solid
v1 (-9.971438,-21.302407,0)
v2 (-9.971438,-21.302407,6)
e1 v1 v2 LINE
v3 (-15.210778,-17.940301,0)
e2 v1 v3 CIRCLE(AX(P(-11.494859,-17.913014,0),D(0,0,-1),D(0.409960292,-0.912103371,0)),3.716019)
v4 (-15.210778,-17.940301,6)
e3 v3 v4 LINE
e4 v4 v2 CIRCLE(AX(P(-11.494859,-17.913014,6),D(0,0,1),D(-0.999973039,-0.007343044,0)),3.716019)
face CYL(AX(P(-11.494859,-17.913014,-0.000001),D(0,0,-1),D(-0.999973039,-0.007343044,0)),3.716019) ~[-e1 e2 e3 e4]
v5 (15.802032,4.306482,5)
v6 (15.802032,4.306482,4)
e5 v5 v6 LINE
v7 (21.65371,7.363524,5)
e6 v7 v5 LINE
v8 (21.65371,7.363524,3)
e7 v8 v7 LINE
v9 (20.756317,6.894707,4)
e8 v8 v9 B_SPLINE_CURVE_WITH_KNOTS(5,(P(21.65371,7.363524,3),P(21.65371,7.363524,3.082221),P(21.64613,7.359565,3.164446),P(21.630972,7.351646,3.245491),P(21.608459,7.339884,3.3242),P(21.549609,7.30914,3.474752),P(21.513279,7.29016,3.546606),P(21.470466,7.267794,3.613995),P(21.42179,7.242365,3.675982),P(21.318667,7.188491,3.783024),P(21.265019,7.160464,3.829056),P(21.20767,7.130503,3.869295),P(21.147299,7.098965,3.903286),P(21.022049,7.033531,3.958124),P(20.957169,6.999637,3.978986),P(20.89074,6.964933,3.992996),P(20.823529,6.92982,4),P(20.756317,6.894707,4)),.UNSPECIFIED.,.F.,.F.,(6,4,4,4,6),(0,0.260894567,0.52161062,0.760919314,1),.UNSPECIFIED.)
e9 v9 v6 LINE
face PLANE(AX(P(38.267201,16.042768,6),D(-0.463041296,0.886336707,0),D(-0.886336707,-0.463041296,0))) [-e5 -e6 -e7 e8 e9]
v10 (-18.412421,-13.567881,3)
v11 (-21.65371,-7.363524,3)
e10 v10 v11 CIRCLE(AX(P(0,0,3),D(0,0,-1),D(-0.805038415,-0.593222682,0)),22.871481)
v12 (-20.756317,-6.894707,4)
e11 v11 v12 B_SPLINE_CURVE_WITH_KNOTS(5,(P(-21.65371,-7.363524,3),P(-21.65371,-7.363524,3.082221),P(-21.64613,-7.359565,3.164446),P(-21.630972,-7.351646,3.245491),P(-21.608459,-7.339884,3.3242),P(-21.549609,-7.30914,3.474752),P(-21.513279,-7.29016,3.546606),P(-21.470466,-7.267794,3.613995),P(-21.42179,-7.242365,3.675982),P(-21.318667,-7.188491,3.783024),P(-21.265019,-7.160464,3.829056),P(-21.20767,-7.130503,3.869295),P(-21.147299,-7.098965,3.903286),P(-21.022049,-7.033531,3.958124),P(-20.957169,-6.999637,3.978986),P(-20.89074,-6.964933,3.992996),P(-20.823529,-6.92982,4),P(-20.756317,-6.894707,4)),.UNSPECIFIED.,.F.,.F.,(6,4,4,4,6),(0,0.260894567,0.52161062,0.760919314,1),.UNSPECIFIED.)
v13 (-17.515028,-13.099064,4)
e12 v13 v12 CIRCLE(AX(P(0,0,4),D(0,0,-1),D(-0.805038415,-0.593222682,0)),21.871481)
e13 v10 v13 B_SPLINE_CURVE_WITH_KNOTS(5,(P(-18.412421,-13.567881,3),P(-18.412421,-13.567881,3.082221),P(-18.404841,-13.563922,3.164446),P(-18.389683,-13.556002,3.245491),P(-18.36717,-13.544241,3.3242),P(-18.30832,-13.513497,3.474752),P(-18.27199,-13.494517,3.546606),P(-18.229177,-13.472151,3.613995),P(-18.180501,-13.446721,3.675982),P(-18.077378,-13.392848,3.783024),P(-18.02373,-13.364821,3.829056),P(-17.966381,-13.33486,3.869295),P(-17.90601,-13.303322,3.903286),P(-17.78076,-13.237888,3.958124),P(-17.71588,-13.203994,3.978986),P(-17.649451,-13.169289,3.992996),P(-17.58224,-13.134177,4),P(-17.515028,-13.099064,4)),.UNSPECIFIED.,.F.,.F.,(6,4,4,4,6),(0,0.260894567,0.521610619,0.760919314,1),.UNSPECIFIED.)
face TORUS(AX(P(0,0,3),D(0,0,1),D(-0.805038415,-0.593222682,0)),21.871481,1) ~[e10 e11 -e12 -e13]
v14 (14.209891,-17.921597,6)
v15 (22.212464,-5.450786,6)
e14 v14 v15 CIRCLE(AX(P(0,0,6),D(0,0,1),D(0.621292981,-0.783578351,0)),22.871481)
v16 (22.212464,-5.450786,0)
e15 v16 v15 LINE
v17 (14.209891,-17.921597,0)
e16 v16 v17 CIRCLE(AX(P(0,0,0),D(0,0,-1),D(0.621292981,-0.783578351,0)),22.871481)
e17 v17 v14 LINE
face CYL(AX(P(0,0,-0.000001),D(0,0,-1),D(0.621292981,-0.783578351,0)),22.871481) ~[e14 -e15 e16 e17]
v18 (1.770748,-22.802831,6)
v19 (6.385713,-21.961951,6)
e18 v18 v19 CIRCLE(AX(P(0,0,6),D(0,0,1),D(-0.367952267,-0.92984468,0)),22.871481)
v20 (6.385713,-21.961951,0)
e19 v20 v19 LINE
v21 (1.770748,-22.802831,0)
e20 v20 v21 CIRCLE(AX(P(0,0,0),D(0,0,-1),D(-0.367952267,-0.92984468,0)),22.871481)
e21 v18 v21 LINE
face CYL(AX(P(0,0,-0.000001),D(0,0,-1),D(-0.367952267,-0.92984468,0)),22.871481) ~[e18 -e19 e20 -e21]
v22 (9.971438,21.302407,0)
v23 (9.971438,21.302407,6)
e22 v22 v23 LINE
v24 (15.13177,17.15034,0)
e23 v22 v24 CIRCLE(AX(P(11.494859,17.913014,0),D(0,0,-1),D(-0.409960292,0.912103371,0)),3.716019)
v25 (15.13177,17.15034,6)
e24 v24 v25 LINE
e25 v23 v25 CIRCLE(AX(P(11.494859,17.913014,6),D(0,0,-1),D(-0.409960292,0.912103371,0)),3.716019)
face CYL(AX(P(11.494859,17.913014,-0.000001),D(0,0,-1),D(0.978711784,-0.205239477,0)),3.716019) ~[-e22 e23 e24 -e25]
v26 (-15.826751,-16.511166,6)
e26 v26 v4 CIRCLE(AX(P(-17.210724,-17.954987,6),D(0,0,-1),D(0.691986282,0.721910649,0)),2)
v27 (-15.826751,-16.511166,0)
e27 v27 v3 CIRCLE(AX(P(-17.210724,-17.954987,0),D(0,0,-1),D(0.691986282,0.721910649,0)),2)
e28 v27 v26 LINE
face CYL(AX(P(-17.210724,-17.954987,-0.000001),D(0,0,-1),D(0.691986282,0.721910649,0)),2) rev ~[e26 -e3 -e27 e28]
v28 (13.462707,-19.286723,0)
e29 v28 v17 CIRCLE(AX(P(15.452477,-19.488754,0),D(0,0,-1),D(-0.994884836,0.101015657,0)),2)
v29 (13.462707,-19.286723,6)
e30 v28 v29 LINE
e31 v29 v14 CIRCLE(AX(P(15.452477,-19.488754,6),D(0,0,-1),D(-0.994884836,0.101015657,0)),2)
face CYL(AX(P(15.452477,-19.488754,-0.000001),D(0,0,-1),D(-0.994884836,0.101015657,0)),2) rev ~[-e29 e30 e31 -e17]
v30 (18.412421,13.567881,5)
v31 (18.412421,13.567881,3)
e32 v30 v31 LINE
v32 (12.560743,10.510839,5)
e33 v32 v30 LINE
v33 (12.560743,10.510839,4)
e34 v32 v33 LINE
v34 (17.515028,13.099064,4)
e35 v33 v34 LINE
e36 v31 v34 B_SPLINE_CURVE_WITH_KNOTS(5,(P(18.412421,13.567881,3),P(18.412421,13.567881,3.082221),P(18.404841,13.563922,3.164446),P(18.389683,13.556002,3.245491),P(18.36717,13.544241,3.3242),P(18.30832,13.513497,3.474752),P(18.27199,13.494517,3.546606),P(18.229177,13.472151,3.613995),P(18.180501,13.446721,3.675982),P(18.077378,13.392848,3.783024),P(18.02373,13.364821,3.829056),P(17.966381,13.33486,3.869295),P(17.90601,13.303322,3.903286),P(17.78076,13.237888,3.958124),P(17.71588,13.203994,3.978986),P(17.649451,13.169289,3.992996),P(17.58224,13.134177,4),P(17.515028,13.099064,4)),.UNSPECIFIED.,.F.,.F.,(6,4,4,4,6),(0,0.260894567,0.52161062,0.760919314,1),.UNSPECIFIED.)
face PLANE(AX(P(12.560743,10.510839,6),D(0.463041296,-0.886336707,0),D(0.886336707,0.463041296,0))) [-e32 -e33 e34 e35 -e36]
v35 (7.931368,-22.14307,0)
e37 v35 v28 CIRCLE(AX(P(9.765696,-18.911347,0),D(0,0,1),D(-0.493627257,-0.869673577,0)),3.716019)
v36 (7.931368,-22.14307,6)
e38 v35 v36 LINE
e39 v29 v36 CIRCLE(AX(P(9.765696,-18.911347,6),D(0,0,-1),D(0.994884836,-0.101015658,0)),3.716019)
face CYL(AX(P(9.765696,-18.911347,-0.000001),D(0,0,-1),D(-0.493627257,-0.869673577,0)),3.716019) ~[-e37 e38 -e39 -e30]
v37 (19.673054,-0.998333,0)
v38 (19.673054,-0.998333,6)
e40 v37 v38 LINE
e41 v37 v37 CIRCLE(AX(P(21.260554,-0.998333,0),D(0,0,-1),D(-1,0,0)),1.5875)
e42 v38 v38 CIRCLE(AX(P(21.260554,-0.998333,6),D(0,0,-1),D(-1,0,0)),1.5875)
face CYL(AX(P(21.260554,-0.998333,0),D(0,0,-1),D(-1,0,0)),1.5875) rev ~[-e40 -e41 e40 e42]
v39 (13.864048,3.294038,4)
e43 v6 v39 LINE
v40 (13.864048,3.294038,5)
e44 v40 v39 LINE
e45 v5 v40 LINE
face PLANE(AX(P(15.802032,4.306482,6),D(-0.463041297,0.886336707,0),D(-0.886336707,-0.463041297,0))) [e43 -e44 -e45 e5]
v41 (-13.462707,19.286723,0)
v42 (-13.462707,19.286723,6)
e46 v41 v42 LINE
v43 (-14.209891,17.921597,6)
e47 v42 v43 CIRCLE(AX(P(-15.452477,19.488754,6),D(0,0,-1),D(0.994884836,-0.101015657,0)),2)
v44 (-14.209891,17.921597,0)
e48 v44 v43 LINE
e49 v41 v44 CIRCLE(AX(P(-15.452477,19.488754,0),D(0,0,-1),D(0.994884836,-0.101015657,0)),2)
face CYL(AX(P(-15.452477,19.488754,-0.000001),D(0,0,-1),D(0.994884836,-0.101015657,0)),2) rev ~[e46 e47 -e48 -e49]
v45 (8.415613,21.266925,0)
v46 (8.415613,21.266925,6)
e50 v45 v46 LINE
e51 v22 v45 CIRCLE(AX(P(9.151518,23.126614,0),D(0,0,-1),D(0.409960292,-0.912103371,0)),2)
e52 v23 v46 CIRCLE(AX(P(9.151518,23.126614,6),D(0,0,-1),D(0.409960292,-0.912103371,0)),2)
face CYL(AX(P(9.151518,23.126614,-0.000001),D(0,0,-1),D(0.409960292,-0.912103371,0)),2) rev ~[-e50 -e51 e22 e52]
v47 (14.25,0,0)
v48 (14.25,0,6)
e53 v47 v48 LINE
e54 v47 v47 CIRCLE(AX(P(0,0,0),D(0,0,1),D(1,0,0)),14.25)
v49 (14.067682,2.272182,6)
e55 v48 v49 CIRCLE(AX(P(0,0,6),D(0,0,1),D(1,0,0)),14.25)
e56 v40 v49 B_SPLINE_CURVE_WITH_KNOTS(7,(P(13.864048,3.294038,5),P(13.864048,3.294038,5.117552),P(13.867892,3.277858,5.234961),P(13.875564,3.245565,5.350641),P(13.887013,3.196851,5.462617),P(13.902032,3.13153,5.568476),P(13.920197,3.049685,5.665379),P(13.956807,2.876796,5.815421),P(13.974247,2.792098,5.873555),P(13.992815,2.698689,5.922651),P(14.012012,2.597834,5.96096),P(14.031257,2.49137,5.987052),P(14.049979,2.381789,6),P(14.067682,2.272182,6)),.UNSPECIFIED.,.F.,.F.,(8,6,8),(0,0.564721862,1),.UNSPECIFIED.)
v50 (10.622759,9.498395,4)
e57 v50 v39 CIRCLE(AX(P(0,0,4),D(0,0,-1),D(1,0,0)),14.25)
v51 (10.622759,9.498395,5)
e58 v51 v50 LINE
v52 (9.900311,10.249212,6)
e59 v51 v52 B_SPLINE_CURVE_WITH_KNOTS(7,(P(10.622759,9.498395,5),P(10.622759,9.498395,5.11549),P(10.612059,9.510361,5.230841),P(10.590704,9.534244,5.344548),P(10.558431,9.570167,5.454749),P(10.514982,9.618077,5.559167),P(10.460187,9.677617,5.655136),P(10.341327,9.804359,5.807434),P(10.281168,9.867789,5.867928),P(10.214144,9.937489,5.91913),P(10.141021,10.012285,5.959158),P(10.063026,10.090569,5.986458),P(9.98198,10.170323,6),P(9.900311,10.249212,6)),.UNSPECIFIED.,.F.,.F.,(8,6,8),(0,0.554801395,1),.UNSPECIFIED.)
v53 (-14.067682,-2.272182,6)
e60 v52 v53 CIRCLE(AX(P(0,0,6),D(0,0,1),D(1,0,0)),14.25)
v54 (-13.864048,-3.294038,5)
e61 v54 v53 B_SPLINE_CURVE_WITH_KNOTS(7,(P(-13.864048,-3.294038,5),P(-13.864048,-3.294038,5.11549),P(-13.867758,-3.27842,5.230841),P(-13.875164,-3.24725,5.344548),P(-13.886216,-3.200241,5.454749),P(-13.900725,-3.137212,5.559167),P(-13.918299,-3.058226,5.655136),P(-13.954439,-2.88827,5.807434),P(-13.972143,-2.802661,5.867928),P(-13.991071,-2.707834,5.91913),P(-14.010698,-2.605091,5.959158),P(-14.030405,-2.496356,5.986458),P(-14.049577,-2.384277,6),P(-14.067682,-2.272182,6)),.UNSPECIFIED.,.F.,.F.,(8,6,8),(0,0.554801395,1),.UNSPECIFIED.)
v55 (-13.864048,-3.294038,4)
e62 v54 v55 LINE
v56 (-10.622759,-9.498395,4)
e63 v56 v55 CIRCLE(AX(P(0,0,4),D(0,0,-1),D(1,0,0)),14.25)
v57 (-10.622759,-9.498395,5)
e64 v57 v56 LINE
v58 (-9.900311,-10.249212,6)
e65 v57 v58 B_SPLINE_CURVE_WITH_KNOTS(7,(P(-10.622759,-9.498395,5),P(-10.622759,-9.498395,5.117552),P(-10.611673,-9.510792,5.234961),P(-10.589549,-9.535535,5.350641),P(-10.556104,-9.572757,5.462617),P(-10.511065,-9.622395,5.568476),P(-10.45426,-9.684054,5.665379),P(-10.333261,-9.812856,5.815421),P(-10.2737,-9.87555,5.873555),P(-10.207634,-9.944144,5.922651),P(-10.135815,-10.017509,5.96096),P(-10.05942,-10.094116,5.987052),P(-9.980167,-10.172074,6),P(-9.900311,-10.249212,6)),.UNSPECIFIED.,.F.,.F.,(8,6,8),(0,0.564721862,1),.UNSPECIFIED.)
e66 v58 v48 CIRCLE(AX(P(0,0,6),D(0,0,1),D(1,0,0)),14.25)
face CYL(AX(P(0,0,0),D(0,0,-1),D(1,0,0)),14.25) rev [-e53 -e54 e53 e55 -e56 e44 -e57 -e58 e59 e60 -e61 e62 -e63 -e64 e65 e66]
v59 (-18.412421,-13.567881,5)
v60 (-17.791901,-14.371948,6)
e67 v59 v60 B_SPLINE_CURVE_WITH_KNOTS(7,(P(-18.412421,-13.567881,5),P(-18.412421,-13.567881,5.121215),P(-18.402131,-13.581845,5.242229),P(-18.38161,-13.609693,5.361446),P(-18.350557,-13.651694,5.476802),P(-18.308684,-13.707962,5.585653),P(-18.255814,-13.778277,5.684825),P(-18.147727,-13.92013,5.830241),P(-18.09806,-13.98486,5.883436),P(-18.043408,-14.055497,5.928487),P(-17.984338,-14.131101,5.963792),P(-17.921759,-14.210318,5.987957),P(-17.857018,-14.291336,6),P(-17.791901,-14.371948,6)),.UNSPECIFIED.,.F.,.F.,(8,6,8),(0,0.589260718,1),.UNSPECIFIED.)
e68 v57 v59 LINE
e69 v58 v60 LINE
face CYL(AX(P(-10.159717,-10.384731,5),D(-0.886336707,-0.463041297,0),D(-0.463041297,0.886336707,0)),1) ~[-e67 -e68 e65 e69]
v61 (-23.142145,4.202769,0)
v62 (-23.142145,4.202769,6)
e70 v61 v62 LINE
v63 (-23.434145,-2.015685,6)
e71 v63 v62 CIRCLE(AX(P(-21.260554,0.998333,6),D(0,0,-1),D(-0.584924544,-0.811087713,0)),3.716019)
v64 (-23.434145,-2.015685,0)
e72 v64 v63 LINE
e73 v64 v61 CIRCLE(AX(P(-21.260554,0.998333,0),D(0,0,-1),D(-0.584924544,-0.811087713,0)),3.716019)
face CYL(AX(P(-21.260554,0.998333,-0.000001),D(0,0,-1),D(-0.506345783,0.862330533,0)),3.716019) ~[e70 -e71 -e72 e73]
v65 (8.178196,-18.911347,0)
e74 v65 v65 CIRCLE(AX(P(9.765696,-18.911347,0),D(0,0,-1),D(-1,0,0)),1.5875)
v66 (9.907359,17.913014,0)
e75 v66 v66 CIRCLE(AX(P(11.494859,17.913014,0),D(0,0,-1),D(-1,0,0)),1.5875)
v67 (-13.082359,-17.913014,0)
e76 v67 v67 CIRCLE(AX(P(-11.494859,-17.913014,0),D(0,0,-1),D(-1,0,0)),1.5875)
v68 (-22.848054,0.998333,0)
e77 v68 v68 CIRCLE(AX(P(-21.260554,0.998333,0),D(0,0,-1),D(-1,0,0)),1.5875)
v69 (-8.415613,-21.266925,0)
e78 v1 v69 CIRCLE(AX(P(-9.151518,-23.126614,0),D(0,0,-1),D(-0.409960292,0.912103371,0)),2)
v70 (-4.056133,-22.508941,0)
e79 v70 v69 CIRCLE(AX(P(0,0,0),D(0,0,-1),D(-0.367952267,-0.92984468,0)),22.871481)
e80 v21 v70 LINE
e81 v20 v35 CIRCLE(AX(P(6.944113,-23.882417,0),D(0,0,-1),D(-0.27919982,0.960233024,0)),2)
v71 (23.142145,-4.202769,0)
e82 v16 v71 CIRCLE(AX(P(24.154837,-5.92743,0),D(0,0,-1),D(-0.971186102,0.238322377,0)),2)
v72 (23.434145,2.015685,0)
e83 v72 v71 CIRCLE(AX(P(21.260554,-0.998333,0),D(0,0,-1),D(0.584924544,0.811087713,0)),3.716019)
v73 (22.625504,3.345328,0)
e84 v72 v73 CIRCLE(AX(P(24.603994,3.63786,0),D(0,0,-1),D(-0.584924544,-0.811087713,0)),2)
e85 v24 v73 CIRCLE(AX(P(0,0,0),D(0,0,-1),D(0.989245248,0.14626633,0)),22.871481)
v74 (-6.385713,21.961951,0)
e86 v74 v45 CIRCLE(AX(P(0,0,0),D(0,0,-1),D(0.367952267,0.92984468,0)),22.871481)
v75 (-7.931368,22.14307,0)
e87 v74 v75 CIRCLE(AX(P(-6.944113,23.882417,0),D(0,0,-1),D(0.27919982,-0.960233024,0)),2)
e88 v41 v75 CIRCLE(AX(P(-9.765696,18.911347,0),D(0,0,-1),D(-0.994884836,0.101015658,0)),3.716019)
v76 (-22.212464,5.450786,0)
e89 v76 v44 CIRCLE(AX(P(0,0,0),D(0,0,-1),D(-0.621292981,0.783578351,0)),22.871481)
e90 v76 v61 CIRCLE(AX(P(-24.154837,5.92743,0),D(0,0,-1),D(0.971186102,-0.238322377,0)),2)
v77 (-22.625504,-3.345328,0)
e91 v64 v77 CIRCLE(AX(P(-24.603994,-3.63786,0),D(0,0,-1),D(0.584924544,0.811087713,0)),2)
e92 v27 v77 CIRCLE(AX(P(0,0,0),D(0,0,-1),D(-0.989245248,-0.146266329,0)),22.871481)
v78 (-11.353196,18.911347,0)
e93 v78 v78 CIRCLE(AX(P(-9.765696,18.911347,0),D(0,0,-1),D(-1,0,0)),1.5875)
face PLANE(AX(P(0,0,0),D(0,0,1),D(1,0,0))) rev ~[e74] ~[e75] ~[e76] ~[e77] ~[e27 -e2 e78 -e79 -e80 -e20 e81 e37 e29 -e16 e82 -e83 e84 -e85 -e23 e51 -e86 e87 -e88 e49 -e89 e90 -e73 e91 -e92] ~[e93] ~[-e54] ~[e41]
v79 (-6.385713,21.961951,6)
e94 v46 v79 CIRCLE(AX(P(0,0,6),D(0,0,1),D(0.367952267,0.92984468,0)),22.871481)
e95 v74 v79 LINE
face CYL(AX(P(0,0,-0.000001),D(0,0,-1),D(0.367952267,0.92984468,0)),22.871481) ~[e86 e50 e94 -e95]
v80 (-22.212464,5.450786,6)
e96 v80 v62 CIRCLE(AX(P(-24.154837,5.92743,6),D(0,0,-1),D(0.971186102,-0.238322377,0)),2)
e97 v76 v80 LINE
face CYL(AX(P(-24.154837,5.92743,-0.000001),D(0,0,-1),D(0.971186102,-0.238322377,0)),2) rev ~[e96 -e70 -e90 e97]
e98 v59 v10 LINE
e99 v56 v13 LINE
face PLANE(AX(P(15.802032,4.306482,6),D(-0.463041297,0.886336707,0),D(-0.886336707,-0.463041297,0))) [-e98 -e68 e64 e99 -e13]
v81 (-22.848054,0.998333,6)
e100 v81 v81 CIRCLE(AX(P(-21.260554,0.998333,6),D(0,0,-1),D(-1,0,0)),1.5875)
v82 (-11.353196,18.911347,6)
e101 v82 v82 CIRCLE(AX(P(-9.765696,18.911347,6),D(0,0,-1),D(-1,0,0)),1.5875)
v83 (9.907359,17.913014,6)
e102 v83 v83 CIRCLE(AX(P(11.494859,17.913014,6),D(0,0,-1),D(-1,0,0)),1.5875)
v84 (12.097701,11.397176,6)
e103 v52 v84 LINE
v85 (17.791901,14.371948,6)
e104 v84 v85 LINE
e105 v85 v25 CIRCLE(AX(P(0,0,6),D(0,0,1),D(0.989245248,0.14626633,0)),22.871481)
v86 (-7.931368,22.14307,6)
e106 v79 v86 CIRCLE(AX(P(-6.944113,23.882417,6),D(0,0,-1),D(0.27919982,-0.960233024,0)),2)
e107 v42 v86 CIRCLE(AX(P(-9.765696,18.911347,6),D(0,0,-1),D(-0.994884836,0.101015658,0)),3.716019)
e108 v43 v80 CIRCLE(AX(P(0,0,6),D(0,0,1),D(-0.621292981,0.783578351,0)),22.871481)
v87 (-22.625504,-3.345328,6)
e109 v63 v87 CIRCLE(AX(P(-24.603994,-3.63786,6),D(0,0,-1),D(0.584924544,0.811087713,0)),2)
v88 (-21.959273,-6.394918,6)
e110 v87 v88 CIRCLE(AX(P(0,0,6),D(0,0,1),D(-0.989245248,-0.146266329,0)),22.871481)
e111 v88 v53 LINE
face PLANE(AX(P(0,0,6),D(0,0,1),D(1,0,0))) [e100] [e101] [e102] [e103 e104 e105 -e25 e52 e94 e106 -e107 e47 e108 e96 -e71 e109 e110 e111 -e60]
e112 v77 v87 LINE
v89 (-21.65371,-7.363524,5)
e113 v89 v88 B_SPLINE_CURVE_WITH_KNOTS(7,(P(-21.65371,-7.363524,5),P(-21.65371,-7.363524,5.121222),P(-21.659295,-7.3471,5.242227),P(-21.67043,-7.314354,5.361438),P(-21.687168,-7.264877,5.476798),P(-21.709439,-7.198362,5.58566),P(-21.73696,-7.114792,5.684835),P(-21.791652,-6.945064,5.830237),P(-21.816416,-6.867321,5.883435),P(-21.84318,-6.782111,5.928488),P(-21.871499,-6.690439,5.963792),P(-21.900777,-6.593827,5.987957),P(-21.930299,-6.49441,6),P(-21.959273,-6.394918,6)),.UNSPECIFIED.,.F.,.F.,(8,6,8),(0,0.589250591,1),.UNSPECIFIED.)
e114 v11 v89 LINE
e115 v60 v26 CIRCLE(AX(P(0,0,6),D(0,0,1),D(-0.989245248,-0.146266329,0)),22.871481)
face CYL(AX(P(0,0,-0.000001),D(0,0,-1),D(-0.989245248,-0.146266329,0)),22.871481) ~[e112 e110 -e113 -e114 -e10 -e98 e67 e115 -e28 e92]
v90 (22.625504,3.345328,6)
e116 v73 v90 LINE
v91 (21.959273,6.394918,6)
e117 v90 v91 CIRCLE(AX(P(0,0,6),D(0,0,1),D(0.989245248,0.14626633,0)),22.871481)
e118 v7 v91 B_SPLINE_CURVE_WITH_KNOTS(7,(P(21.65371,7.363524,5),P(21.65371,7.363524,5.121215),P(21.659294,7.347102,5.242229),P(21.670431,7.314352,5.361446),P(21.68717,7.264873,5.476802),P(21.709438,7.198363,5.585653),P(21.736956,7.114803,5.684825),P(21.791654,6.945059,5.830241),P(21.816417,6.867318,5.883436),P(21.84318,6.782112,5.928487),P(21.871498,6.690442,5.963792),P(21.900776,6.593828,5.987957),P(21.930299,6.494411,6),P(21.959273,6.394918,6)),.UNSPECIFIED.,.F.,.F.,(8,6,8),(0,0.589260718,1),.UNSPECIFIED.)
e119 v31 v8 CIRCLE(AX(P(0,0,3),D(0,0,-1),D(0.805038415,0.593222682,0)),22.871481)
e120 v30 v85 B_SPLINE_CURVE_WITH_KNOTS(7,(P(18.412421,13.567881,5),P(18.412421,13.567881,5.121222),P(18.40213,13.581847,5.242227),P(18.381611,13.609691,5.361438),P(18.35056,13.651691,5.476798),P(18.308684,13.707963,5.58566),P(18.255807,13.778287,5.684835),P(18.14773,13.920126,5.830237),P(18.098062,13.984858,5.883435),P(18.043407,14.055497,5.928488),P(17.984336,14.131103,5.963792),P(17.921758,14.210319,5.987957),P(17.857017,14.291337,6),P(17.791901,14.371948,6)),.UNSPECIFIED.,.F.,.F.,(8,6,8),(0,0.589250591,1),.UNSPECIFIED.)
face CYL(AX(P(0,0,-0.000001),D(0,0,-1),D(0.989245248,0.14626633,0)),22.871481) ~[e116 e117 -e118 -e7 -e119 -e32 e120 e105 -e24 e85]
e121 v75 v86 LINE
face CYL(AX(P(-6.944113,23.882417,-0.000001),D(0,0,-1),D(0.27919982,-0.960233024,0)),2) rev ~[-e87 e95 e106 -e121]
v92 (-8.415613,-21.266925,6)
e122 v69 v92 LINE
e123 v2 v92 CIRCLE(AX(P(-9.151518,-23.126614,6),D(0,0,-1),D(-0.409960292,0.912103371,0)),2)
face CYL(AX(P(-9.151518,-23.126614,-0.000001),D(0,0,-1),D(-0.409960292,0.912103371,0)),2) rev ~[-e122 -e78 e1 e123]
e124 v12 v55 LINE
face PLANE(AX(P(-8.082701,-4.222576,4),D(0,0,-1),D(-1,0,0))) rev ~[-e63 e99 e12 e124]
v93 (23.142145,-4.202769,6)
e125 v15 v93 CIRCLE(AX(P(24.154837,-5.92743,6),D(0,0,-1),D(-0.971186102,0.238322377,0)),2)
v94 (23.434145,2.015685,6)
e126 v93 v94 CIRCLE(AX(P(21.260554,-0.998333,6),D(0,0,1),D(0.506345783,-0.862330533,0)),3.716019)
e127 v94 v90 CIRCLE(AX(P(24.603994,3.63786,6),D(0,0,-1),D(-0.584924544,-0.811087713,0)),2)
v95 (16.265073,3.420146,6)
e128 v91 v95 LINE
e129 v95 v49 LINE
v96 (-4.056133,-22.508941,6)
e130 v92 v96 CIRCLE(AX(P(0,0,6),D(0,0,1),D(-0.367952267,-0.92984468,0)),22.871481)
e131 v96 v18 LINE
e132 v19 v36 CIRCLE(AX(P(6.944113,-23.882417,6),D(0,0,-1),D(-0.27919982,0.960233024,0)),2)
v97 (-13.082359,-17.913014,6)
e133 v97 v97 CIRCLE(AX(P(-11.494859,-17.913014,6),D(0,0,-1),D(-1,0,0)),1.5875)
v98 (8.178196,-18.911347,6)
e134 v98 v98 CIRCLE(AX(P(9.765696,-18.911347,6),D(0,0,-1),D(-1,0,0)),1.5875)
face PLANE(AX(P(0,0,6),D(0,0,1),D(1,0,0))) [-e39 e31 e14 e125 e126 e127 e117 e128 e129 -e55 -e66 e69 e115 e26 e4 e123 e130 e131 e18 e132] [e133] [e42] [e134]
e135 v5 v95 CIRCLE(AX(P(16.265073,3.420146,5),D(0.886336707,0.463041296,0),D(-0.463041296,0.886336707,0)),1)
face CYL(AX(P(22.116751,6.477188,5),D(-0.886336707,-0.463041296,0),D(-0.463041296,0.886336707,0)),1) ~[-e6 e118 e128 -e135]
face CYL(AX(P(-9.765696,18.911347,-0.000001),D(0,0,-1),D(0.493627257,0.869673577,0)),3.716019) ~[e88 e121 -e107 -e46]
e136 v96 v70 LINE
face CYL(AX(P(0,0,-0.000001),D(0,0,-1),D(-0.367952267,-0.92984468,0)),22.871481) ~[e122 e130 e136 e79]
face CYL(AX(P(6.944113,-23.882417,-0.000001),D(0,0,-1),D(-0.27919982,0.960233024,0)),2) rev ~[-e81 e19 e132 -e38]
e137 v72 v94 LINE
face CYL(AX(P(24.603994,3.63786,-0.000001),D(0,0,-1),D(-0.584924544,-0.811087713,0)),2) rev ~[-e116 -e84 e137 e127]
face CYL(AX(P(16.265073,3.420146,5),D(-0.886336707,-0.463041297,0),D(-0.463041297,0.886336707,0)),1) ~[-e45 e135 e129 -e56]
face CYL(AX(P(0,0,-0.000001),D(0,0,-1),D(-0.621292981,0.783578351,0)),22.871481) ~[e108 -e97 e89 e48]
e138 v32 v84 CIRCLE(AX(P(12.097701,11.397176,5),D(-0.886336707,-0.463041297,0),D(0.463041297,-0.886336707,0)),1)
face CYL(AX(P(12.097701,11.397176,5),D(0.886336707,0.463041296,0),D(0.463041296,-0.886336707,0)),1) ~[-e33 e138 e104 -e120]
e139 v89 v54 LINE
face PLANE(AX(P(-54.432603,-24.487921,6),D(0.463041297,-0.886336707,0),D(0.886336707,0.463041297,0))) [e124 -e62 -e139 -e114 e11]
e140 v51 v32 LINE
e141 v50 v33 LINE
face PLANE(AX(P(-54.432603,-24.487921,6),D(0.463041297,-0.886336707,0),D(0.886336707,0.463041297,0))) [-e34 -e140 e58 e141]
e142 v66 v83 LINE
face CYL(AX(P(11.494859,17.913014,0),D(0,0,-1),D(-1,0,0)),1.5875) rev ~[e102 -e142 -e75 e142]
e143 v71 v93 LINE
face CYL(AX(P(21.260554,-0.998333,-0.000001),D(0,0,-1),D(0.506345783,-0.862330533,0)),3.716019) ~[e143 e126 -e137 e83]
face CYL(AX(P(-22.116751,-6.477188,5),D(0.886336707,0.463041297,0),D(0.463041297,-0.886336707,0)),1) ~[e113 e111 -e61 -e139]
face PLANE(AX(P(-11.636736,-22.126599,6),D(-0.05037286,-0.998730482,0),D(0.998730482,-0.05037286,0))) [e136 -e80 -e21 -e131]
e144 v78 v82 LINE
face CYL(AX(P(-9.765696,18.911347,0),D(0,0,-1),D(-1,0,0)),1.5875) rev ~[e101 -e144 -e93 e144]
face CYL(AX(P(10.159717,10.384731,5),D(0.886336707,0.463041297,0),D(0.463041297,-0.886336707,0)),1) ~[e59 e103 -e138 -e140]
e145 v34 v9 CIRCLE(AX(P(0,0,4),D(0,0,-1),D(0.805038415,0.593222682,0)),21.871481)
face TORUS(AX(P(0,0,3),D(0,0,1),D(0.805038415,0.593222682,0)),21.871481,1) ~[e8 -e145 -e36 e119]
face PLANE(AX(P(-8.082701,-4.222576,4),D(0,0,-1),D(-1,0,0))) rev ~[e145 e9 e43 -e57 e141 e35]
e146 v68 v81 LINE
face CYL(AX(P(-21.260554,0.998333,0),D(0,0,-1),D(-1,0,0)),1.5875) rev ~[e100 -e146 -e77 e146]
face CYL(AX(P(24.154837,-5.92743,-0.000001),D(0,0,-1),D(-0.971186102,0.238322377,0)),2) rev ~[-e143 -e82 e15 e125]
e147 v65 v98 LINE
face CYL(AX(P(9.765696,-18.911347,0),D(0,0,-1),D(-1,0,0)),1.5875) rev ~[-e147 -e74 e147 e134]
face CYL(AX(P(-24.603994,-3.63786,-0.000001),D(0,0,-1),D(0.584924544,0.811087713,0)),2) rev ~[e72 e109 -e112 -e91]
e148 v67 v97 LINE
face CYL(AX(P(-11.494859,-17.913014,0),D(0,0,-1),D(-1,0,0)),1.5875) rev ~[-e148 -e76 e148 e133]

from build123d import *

# Parameters (mm, degrees)
SKETCH1_R           = 25
SKETCH1_R_2         = 14.25
BOSS_EXTRUDE1_DEPTH = 6
CUT_EXTRUDE1_REACH  = 8
CUT_EXTRUDE2_REACH  = 8
SKETCH3_R           = 1.5875
CUT_EXTRUDE3_DEPTH  = 2
CUT_EXTRUDE4_START  = -6.000001
SKETCH5_R           = 41.768296762
CUT_EXTRUDE4_DEPTH  = 6.000001
FILLET1_R           = 1


with BuildPart() as part:
    # Sketch1 → Boss-Extrude1 (new body)
    with BuildSketch(Plane.XY):
        Circle(SKETCH1_R)
        Circle(SKETCH1_R_2, mode=Mode.SUBTRACT)
    extrude(amount=BOSS_EXTRUDE1_DEPTH)

    # Sketch2 → Cut-Extrude1 (cut, up to next)
    with BuildSketch(Plane.XY.offset(6), mode=Mode.PRIVATE) as cut_extrude1_sk1:
        with BuildLine():
            Line((-11.636735818, -22.126598914), (9.351350952, -23.185172748))
            ThreePointArc((9.351350952, -23.185172748), (-1.259321499, -24.968262041), (-11.636735818, -22.126598914))
        make_face()
    cut_extrude1_tool1 = extrude(cut_extrude1_sk1.sketch, amount=-CUT_EXTRUDE1_REACH, mode=Mode.PRIVATE) & part.part
    add(cut_extrude1_tool1.solids().sort_by_distance((-1.189534, -23.584609, 6))[0], mode=Mode.SUBTRACT)

    # Sketch3 → Cut-Extrude2 (cut, up to next)
    with BuildSketch(Plane(origin=(0, 0, 0), x_dir=(-1, 0, 0), z_dir=(0, 0, -1)), mode=Mode.PRIVATE) as cut_extrude2_sk1:
        with Locations((11.49485864, -17.913013938)):
            Circle(SKETCH3_R)
    cut_extrude2_tool1 = extrude(cut_extrude2_sk1.sketch, amount=-CUT_EXTRUDE2_REACH, mode=Mode.PRIVATE) & part.part
    add(cut_extrude2_tool1.solids().sort_by_distance((-11.494859, -17.913014, 0))[0], mode=Mode.SUBTRACT)
    # Sketch3 → Cut-Extrude2 (cut, up to next)
    with BuildSketch(Plane(origin=(0, 0, 0), x_dir=(-1, 0, 0), z_dir=(0, 0, -1)), mode=Mode.PRIVATE) as cut_extrude2_sk2:
        with Locations((21.260554449, 0.998332626)):
            Circle(SKETCH3_R)
    cut_extrude2_tool2 = extrude(cut_extrude2_sk2.sketch, amount=-CUT_EXTRUDE2_REACH, mode=Mode.PRIVATE) & part.part
    add(cut_extrude2_tool2.solids().sort_by_distance((-21.260554, 0.998333, 0))[0], mode=Mode.SUBTRACT)
    # Sketch3 → Cut-Extrude2 (cut, up to next)
    with BuildSketch(Plane(origin=(0, 0, 0), x_dir=(-1, 0, 0), z_dir=(0, 0, -1)), mode=Mode.PRIVATE) as cut_extrude2_sk3:
        with Locations((9.765695809, 18.911346564)):
            Circle(SKETCH3_R)
    cut_extrude2_tool3 = extrude(cut_extrude2_sk3.sketch, amount=-CUT_EXTRUDE2_REACH, mode=Mode.PRIVATE) & part.part
    add(cut_extrude2_tool3.solids().sort_by_distance((-9.765696, 18.911347, 0))[0], mode=Mode.SUBTRACT)
    # Sketch3 → Cut-Extrude2 (cut, up to next)
    with BuildSketch(Plane(origin=(0, 0, 0), x_dir=(-1, 0, 0), z_dir=(0, 0, -1)), mode=Mode.PRIVATE) as cut_extrude2_sk4:
        with Locations((-11.49485864, 17.913013938)):
            Circle(SKETCH3_R)
    cut_extrude2_tool4 = extrude(cut_extrude2_sk4.sketch, amount=-CUT_EXTRUDE2_REACH, mode=Mode.PRIVATE) & part.part
    add(cut_extrude2_tool4.solids().sort_by_distance((11.494859, 17.913014, 0))[0], mode=Mode.SUBTRACT)
    # Sketch3 → Cut-Extrude2 (cut, up to next)
    with BuildSketch(Plane(origin=(0, 0, 0), x_dir=(-1, 0, 0), z_dir=(0, 0, -1)), mode=Mode.PRIVATE) as cut_extrude2_sk5:
        with Locations((-21.260554449, -0.998332626)):
            Circle(SKETCH3_R)
    cut_extrude2_tool5 = extrude(cut_extrude2_sk5.sketch, amount=-CUT_EXTRUDE2_REACH, mode=Mode.PRIVATE) & part.part
    add(cut_extrude2_tool5.solids().sort_by_distance((21.260554, -0.998333, 0))[0], mode=Mode.SUBTRACT)
    # Sketch3 → Cut-Extrude2 (cut, up to next)
    with BuildSketch(Plane(origin=(0, 0, 0), x_dir=(-1, 0, 0), z_dir=(0, 0, -1)), mode=Mode.PRIVATE) as cut_extrude2_sk6:
        with Locations((-9.765695809, -18.911346564)):
            Circle(SKETCH3_R)
    cut_extrude2_tool6 = extrude(cut_extrude2_sk6.sketch, amount=-CUT_EXTRUDE2_REACH, mode=Mode.PRIVATE) & part.part
    add(cut_extrude2_tool6.solids().sort_by_distance((9.765696, -18.911347, 0))[0], mode=Mode.SUBTRACT)

    # Sketch4 → Cut-Extrude3 (cut)
    with BuildSketch(Plane.XY.offset(6)):
        Polygon((12.56074277, 10.510839218), (35.025911551, 22.247124987), (38.267200626, 16.04276804), (15.802031846, 4.306482271), (-51.191313487, -30.692277506), (-54.432602563, -24.487920559), align=None)
    extrude(amount=-CUT_EXTRUDE3_DEPTH, mode=Mode.SUBTRACT)

    # Sketch5 → Cut-Extrude4 (cut)
    with BuildSketch(Plane.XY.offset(6).offset(CUT_EXTRUDE4_START)):
        Circle(SKETCH5_R)
        with BuildLine():
            ThreePointArc((-7.9313675, 22.143070177), (-11.470711058, 22.213121974), (-13.462706849, 19.286722677))
            ThreePointArc((-13.462706849, 19.286722677), (-13.698075607, 18.528505361), (-14.209890558, 17.921597291))
            ThreePointArc((-14.209890558, 17.921597291), (-19.249084936, 12.352221187), (-22.212464402, 5.450785662))
            ThreePointArc((-22.212464402, 5.450785662), (-22.550939275, 4.732644513), (-23.142145042, 4.202769347))
            ThreePointArc((-23.142145042, 4.202769347), (-24.972483456, 1.172633811), (-23.434145218, -2.015684796))
            ThreePointArc((-23.434145218, -2.015684796), (-22.89519414, -2.598628778), (-22.62550381, -3.345327563))
            ThreePointArc((-22.62550381, -3.345327563), (-20.32187981, -10.494085961), (-15.826751055, -16.511165622))
            ThreePointArc((-15.826751055, -16.511165622), (-15.374060012, -17.163364035), (-15.210777541, -17.940300831))
            ThreePointArc((-15.210777541, -17.940300831), (-13.501772398, -21.040488163), (-9.97143837, -21.302407473))
            ThreePointArc((-9.97143837, -21.302407473), (-9.197118534, -21.127134139), (-8.415613251, -21.266924854))
            ThreePointArc((-8.415613251, -21.266924854), (-1.072794873, -22.846307148), (6.385713347, -21.961951284))
            ThreePointArc((6.385713347, -21.961951284), (7.176879262, -21.896008547), (7.9313675, -22.143070177))
            ThreePointArc((7.9313675, -22.143070177), (11.470711058, -22.213121974), (13.462706849, -19.286722677))
            ThreePointArc((13.462706849, -19.286722677), (13.698075607, -18.528505361), (14.209890558, -17.921597291))
            ThreePointArc((14.209890558, -17.921597291), (19.249084936, -12.352221187), (22.212464402, -5.450785662))
            ThreePointArc((22.212464402, -5.450785662), (22.550939275, -4.732644513), (23.142145042, -4.202769347))
            ThreePointArc((23.142145042, -4.202769347), (24.972483456, -1.172633811), (23.434145218, 2.015684796))
            ThreePointArc((23.434145218, 2.015684796), (22.89519414, 2.598628778), (22.62550381, 3.345327563))
            ThreePointArc((22.62550381, 3.345327563), (20.100933566, 10.911329384), (15.131770312, 17.150340124))
            ThreePointArc((15.131770312, 17.150340124), (13.824370884, 20.808211783), (9.97143837, 21.302407473))
            ThreePointArc((9.97143837, 21.302407473), (9.197118534, 21.127134139), (8.415613251, 21.266924854))
            ThreePointArc((8.415613251, 21.266924854), (1.072794873, 22.846307148), (-6.385713347, 21.961951284))
            ThreePointArc((-6.385713347, 21.961951284), (-7.176879262, 21.896008547), (-7.9313675, 22.143070177))
        make_face(mode=Mode.SUBTRACT)
    extrude(amount=CUT_EXTRUDE4_DEPTH, mode=Mode.SUBTRACT)

    # Fillet1
    fillet1_edges = [part.edges().sort_by_distance(p)[0] for p in [
        (-14.517589627, -11.533137966, 6),
        (-20.271833071, -10.590440175, 4),
        (14.517589627, 11.533137966, 6),
        (20.271833071, 10.590440175, 4),
        (17.758878703, 5.328781019, 6),
        (-17.758878703, -5.328781019, 6),
    ]]
    fillet(fillet1_edges, radius=FILLET1_R)


solid = part.part
